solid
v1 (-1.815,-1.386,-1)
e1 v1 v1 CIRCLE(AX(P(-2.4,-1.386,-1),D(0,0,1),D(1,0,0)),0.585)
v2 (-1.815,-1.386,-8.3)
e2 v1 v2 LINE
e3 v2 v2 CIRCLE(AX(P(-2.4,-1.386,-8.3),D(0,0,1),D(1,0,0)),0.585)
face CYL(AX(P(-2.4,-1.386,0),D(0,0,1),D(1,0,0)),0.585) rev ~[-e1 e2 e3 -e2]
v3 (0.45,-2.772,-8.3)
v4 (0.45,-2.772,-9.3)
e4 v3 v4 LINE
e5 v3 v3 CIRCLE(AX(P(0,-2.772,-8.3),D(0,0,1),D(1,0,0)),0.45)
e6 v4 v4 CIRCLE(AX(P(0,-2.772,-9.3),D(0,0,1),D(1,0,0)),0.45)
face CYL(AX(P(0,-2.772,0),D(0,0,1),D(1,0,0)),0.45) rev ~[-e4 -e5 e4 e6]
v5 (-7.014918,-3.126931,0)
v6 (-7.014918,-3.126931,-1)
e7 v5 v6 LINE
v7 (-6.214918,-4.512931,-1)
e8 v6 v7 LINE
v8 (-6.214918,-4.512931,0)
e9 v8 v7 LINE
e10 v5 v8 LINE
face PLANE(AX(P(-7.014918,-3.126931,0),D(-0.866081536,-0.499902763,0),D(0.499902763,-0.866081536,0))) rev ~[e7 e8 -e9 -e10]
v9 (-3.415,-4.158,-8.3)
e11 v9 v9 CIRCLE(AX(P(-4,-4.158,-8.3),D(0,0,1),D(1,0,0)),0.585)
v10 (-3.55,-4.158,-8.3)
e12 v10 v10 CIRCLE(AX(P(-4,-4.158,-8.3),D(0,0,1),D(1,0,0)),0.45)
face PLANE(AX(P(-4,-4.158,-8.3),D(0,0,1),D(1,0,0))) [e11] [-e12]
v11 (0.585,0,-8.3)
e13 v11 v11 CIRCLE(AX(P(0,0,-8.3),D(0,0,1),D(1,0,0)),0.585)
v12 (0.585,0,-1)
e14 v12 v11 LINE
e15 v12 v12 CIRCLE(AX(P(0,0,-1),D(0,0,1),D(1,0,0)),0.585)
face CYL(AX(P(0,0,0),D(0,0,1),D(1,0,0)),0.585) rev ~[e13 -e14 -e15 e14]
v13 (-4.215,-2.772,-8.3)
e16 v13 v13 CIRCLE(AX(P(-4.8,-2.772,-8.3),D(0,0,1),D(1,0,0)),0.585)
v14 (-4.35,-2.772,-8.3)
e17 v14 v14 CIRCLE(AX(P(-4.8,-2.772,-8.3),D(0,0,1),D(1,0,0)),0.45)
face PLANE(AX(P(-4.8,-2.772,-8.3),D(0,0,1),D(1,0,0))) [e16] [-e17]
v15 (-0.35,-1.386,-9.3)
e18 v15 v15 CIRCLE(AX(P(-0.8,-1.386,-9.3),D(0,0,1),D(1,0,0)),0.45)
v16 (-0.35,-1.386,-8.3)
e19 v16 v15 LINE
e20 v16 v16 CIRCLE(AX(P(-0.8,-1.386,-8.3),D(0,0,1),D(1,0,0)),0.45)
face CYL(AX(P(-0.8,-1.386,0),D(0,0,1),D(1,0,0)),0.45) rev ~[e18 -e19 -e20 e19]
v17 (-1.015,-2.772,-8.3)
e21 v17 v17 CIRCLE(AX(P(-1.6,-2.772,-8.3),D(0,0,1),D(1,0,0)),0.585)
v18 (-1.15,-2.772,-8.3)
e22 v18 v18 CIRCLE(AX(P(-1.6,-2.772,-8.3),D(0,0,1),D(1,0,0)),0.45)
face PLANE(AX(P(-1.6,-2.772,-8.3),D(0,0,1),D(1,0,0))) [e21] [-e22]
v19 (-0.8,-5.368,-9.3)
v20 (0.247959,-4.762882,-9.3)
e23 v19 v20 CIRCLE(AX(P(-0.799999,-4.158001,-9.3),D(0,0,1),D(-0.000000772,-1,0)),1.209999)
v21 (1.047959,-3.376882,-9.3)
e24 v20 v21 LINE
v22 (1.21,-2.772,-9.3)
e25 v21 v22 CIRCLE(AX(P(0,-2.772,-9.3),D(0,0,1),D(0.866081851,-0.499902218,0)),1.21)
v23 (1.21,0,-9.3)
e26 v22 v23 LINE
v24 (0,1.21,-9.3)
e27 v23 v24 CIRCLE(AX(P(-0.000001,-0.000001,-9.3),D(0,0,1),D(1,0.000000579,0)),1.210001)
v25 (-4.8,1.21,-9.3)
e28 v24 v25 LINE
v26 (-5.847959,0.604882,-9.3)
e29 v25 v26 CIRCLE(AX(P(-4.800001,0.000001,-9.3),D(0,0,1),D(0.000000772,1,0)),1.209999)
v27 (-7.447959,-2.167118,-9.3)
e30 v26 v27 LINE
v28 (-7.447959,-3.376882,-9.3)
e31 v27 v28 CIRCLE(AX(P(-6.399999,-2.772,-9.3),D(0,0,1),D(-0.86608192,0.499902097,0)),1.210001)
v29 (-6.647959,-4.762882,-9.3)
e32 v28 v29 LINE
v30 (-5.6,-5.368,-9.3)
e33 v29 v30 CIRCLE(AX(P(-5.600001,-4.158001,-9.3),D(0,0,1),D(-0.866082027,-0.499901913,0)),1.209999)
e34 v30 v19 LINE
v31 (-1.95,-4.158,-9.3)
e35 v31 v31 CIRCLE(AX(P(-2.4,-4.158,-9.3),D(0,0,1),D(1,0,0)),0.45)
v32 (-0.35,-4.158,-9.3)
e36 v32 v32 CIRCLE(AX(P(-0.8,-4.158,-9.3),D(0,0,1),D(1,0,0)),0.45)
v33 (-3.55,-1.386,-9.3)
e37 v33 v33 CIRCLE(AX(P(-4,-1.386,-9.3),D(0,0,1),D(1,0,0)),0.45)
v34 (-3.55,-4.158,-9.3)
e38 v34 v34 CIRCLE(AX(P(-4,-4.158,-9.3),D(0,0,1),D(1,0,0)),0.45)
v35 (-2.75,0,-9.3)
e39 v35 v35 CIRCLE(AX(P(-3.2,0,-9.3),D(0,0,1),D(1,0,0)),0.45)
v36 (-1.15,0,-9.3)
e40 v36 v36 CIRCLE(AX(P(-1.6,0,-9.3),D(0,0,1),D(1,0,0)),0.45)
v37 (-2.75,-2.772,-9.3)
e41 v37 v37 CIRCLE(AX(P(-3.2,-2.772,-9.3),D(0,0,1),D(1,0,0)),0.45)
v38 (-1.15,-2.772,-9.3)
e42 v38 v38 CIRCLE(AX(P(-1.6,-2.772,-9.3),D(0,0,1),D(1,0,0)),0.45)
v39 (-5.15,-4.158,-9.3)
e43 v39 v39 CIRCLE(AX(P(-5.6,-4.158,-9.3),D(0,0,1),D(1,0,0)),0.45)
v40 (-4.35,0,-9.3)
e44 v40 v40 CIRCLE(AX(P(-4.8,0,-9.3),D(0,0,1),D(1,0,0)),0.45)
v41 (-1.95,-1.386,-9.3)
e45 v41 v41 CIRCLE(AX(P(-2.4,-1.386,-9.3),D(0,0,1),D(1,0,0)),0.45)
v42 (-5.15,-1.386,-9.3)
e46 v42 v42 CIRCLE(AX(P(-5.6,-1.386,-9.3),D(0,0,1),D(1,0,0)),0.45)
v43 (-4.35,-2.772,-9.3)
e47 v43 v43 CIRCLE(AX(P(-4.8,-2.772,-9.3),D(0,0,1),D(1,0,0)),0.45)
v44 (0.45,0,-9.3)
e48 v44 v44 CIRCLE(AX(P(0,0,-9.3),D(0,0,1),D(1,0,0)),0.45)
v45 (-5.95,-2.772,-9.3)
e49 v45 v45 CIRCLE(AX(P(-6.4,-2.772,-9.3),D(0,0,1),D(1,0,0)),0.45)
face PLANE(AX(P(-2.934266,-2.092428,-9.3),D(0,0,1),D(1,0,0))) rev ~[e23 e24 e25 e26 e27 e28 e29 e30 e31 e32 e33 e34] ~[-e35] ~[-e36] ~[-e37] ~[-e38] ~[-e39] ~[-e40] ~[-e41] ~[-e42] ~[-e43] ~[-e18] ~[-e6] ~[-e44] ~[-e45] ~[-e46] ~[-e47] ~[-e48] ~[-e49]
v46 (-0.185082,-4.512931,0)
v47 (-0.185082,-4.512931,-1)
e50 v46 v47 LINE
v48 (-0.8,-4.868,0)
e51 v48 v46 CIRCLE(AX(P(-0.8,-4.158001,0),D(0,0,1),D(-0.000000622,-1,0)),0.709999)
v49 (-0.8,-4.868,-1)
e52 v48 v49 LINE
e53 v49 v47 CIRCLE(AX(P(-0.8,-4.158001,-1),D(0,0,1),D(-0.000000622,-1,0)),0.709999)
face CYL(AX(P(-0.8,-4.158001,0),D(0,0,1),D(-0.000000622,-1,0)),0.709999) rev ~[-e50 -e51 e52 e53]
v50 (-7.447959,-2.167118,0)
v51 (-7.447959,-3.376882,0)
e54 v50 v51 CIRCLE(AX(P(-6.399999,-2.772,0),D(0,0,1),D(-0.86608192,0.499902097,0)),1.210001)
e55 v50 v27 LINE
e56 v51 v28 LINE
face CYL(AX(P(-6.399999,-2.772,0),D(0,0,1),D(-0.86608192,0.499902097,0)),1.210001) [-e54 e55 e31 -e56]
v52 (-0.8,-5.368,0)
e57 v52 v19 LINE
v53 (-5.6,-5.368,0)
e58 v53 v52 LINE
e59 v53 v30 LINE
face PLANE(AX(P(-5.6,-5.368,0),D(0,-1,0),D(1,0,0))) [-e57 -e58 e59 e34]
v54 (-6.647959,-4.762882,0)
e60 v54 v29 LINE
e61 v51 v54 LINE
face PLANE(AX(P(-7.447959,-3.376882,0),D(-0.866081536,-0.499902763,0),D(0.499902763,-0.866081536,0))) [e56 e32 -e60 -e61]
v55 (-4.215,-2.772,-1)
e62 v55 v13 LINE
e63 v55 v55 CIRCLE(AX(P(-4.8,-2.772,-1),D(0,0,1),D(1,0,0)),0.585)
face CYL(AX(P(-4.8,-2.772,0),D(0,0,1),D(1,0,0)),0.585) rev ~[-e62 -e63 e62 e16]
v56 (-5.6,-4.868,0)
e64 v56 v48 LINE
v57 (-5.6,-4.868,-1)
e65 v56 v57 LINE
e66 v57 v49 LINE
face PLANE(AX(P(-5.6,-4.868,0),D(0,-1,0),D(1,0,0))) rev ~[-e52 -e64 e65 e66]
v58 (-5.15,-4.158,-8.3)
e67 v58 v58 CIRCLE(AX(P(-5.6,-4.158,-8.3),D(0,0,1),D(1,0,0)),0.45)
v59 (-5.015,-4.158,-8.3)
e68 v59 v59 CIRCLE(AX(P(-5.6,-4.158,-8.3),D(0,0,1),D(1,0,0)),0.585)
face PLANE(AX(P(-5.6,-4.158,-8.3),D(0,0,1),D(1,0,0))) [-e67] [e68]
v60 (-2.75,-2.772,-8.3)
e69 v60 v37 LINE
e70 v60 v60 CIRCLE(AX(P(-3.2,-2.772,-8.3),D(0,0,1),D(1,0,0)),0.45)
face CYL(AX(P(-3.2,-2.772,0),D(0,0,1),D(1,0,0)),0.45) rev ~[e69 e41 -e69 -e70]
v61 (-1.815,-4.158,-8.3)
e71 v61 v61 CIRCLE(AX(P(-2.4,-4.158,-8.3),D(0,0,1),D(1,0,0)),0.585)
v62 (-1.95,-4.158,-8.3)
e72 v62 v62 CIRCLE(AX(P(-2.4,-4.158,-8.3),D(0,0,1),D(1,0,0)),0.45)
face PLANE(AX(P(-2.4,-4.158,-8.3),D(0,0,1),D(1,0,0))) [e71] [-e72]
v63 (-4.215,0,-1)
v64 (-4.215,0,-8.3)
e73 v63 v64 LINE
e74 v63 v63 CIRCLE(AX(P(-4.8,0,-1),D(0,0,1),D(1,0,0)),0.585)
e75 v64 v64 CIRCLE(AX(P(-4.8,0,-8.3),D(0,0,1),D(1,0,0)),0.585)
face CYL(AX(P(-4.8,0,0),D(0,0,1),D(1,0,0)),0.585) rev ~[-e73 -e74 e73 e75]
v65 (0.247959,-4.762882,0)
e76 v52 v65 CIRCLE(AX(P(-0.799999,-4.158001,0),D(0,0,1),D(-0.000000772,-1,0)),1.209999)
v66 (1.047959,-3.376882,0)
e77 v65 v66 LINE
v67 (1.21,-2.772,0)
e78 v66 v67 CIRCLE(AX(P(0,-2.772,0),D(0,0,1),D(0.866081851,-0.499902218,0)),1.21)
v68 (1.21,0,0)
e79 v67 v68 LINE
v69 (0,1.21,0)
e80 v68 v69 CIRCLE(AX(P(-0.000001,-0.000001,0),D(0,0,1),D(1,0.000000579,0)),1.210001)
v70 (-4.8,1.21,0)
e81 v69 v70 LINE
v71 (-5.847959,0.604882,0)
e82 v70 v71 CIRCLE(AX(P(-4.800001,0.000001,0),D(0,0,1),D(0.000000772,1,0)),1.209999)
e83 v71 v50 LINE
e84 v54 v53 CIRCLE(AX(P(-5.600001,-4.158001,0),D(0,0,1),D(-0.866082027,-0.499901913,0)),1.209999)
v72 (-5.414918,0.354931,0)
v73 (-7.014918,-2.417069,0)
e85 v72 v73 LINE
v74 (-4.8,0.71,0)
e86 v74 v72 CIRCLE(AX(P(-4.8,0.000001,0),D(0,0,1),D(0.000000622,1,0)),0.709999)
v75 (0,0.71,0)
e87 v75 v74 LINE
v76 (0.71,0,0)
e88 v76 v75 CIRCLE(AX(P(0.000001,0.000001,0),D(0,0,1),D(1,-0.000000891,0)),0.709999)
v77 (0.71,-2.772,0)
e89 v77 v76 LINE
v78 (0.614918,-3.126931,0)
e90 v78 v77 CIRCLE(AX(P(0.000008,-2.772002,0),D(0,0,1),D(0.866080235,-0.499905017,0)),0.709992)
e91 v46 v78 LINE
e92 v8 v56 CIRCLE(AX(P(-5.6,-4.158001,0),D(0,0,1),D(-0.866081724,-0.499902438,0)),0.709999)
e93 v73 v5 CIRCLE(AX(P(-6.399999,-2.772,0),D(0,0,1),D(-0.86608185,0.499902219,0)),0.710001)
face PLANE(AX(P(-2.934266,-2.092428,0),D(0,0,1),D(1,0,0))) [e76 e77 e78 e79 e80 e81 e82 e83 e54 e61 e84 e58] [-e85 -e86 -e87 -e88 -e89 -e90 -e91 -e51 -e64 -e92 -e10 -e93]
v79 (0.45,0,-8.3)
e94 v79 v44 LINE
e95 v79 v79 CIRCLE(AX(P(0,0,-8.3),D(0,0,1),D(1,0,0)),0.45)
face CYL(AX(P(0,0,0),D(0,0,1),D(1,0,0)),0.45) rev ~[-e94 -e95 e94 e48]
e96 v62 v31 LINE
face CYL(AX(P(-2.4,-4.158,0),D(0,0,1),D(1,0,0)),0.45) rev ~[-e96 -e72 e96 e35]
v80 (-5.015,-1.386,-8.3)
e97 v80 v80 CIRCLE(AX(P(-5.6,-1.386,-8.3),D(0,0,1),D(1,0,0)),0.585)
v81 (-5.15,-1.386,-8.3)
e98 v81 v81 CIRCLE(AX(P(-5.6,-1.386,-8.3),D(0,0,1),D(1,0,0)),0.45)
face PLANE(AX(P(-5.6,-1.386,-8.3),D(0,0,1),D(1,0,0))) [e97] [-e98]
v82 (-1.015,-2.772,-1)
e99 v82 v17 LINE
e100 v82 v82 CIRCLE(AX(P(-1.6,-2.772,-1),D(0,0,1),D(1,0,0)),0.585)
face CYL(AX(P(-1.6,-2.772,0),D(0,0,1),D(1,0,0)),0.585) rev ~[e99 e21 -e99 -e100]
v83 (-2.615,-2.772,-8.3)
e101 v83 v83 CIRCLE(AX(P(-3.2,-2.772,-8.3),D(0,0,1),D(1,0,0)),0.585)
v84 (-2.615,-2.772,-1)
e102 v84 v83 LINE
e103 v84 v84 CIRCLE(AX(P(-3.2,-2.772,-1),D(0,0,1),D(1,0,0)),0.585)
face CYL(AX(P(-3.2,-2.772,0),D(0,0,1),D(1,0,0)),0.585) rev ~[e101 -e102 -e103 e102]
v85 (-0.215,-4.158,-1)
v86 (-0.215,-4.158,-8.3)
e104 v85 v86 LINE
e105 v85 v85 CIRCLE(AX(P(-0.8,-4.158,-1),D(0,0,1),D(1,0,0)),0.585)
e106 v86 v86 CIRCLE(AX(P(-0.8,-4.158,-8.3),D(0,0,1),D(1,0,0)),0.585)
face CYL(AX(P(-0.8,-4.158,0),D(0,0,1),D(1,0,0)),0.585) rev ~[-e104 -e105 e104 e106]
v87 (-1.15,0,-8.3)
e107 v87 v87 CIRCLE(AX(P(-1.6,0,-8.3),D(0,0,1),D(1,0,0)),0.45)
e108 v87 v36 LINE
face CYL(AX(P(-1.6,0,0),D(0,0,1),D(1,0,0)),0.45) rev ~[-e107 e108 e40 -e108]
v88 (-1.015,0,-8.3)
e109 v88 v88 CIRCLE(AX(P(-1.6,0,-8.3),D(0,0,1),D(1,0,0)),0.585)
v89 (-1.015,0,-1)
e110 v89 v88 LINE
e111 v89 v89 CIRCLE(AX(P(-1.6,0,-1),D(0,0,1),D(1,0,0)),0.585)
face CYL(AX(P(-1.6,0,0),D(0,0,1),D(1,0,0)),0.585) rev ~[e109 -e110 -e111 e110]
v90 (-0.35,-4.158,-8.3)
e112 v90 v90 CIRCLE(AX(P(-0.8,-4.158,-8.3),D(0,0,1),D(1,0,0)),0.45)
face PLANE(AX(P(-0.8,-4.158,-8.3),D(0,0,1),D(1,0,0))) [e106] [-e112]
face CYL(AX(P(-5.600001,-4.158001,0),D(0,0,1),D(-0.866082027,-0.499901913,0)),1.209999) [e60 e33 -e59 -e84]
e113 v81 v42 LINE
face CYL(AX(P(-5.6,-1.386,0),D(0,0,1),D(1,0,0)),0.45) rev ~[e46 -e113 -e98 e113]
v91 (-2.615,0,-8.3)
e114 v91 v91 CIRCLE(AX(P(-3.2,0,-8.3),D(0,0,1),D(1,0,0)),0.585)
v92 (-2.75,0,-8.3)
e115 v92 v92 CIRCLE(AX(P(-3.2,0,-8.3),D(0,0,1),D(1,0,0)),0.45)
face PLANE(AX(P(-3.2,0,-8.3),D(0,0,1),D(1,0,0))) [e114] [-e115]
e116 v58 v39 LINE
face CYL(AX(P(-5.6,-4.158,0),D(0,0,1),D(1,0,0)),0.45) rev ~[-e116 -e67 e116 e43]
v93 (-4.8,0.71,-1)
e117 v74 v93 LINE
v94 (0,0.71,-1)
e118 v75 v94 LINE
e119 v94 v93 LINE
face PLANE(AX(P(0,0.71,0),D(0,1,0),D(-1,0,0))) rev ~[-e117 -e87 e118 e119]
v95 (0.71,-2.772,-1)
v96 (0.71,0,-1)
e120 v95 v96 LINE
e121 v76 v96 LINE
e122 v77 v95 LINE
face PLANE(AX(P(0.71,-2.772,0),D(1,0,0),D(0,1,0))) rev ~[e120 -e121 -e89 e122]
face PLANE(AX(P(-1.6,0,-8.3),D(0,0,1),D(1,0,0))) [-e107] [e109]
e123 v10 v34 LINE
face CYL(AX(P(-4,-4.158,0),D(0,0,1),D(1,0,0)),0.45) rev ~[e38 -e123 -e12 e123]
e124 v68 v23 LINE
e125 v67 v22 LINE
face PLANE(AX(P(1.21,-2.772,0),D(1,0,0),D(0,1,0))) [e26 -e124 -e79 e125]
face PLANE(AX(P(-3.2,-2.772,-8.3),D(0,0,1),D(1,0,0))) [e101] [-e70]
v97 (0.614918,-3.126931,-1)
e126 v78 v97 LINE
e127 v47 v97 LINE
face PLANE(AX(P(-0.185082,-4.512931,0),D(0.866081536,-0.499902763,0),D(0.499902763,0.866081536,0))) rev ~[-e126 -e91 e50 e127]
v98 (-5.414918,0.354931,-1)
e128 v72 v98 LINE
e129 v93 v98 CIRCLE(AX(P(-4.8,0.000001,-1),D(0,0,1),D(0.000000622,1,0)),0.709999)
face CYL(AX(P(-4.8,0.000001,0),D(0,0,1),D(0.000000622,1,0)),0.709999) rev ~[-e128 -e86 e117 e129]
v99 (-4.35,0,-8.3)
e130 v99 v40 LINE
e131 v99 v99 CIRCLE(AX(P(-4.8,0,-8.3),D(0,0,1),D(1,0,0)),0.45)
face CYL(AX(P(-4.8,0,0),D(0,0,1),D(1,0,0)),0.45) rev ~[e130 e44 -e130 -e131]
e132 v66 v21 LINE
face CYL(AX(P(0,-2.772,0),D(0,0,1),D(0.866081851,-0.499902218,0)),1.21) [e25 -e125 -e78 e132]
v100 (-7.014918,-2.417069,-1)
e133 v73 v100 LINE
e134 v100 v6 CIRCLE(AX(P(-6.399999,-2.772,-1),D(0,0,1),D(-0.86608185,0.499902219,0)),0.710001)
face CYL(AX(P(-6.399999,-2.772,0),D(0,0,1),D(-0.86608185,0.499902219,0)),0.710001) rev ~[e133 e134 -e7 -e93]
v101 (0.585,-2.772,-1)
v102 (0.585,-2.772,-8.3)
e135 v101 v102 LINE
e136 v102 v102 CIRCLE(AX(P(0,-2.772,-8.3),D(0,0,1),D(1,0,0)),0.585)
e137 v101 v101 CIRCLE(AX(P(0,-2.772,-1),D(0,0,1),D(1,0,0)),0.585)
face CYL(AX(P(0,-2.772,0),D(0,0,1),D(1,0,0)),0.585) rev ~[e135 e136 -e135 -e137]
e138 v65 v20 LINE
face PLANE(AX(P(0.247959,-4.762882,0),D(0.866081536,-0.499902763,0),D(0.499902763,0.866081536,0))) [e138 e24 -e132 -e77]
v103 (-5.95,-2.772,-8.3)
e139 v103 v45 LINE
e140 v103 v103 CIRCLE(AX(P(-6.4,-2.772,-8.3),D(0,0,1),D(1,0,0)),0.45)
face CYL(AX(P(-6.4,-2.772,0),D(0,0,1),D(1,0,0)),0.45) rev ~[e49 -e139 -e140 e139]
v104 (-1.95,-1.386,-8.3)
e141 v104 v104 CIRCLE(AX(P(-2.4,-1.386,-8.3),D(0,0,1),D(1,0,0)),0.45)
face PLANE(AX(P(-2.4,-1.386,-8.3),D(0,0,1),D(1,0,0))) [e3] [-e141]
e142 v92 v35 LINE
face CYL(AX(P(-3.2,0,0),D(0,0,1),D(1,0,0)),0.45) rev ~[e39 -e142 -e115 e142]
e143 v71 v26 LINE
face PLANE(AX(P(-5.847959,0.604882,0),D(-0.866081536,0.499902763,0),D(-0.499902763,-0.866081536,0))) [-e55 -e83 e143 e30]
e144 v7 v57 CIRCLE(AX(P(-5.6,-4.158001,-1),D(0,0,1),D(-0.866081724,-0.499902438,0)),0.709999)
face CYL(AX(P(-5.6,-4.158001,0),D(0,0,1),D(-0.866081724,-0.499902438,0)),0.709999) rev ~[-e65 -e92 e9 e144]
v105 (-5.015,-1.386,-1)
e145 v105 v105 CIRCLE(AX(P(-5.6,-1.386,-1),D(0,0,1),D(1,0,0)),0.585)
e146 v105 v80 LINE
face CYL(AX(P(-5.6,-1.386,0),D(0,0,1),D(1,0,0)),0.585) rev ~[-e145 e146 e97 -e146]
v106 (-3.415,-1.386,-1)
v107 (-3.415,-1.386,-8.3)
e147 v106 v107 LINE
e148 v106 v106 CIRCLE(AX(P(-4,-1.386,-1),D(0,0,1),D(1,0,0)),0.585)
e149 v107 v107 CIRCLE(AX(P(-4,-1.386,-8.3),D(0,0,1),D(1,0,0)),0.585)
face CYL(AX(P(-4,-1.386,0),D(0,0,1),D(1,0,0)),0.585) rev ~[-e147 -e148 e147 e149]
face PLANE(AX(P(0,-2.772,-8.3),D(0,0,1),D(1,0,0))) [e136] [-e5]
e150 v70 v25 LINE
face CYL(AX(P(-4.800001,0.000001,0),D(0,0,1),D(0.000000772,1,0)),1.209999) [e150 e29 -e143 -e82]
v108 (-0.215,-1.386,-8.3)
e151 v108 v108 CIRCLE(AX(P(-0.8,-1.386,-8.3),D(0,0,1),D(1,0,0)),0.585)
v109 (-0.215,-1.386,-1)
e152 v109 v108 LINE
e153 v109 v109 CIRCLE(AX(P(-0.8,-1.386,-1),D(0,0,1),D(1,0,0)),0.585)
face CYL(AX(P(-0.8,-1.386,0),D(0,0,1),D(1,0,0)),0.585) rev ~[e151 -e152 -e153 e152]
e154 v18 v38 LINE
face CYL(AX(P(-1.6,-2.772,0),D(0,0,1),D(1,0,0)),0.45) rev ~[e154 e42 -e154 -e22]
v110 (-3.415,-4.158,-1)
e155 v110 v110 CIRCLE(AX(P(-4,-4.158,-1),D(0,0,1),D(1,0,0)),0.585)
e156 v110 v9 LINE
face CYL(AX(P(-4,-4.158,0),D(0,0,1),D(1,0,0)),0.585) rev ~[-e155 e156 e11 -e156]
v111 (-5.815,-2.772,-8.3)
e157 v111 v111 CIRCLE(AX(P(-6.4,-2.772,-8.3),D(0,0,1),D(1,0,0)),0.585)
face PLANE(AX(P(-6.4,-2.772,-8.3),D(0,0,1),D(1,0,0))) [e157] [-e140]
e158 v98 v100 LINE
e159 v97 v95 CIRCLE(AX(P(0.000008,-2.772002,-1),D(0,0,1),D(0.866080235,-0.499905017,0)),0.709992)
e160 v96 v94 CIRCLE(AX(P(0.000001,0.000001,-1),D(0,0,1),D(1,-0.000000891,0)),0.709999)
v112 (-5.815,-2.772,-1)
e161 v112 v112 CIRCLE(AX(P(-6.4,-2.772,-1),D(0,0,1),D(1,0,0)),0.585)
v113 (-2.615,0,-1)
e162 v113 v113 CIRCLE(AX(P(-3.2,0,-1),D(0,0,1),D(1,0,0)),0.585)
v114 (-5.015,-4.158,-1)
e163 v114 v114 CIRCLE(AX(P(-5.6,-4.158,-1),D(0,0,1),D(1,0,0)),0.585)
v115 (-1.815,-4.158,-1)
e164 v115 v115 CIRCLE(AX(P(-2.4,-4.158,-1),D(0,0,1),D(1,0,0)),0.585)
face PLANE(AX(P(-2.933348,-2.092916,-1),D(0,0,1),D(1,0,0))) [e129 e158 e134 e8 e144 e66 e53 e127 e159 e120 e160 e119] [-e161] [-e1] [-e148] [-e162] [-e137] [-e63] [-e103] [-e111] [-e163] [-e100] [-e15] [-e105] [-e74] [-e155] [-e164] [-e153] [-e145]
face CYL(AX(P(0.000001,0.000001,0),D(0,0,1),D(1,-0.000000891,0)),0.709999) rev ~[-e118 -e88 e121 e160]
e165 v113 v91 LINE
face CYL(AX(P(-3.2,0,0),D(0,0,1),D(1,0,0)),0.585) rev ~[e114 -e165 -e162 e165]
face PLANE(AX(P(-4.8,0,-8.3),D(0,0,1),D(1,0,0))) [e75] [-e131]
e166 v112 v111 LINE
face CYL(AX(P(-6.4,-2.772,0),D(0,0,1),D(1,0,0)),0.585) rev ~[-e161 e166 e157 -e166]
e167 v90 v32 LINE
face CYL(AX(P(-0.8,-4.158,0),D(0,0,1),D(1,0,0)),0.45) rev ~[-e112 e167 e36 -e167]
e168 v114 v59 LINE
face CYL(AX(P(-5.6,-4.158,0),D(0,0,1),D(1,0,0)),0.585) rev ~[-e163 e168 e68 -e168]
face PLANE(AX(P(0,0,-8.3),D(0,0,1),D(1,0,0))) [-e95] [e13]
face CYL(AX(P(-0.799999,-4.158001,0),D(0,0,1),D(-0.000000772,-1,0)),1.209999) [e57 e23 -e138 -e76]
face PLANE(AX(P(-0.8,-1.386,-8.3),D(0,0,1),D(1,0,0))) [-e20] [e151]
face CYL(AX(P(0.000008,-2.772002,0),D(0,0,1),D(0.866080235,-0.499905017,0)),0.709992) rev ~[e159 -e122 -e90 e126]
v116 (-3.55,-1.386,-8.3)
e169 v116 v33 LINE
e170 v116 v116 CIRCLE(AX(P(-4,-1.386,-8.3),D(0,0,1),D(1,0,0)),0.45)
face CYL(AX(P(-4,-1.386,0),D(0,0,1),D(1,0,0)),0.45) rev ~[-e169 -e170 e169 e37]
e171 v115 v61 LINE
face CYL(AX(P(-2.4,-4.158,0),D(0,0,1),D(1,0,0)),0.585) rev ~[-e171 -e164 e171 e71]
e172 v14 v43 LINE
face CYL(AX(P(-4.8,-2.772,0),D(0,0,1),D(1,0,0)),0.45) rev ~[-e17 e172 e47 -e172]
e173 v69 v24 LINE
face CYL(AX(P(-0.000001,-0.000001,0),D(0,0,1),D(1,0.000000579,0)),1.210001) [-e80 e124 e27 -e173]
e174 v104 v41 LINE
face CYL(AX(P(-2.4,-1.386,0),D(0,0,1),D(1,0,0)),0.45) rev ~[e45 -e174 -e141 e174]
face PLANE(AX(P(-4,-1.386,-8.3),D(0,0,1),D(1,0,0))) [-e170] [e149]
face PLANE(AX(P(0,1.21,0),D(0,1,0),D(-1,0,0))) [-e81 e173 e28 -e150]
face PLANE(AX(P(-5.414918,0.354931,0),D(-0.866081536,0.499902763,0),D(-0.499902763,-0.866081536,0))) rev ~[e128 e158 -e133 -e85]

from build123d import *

# Parameters (mm, degrees)
F0_R     = 0.585
F1_DEPTH = 9.3
F2_DEPTH = 1
F3_DEPTH = 8.3
F4_R     = 0.45
F5_DEPTH = 9.301


with BuildPart() as f1:
    # F0 (on Top) → F1 (new body)
    with BuildSketch(Plane.XY):
        with BuildLine():
            Line((0, 1.21), (-4.8, 1.21))
            ThreePointArc((-4.8, 1.21), (-5.405059, 1.047857), (-5.847959, 0.604882))
            Line((-5.847959, 0.604882), (-7.447959, -2.167118))
            ThreePointArc((-7.447959, -2.167118), (-7.61, -2.772), (-7.447959, -3.376882))
            Line((-7.447959, -3.376882), (-6.647959, -4.762882))
            ThreePointArc((-6.647959, -4.762882), (-6.205059, -5.205857), (-5.6, -5.368))
            Line((-5.6, -5.368), (-0.8, -5.368))
            ThreePointArc((-0.8, -5.368), (-0.194941, -5.205857), (0.247959, -4.762882))
            Line((0.247959, -4.762882), (1.047959, -3.376882))
            ThreePointArc((1.047959, -3.376882), (1.168788, -3.085105), (1.21, -2.772))
            Line((1.21, -2.772), (1.21, 0))
            ThreePointArc((1.21, 0), (0.855599, 0.855599), (0, 1.21))
        make_face()
        with BuildLine():
            ThreePointArc((-5.414918, 0.354931), (-5.155035, 0.614858), (-4.8, 0.71))
            Line((-4.8, 0.71), (0, 0.71))
            ThreePointArc((0, 0.71), (0.502046, 0.502046), (0.71, 0))
            Line((0.71, 0), (0.71, -2.772))
            ThreePointArc((0.71, -2.772), (0.685818, -2.955723), (0.614918, -3.126931))
            Line((0.614918, -3.126931), (-0.185082, -4.512931))
            ThreePointArc((-0.185082, -4.512931), (-0.444965, -4.772858), (-0.8, -4.868))
            Line((-0.8, -4.868), (-5.6, -4.868))
            ThreePointArc((-5.6, -4.868), (-5.955035, -4.772858), (-6.214918, -4.512931))
            Line((-6.214918, -4.512931), (-7.014918, -3.126931))
            ThreePointArc((-7.014918, -3.126931), (-7.11, -2.772), (-7.014918, -2.417069))
            Line((-7.014918, -2.417069), (-5.414918, 0.354931))
        make_face(mode=Mode.SUBTRACT)
        with BuildLine():
            Line((0, 0.71), (-4.8, 0.71))
            ThreePointArc((-4.8, 0.71), (-5.155035, 0.614858), (-5.414918, 0.354931))
            Line((-5.414918, 0.354931), (-7.014918, -2.417069))
            ThreePointArc((-7.014918, -2.417069), (-7.11, -2.772), (-7.014918, -3.126931))
            Line((-7.014918, -3.126931), (-6.214918, -4.512931))
            ThreePointArc((-6.214918, -4.512931), (-5.955035, -4.772858), (-5.6, -4.868))
            Line((-5.6, -4.868), (-0.8, -4.868))
            ThreePointArc((-0.8, -4.868), (-0.444965, -4.772858), (-0.185082, -4.512931))
            Line((-0.185082, -4.512931), (0.614918, -3.126931))
            ThreePointArc((0.614918, -3.126931), (0.685818, -2.955723), (0.71, -2.772))
            Line((0.71, -2.772), (0.71, 0))
            ThreePointArc((0.71, 0), (0.502046, 0.502046), (0, 0.71))
        make_face()
        with Locations((-5.6, -4.158)):
            Circle(F0_R, mode=Mode.SUBTRACT)
        with Locations((-4, -4.158)):
            Circle(F0_R, mode=Mode.SUBTRACT)
        with Locations((-6.4, -2.772)):
            Circle(F0_R, mode=Mode.SUBTRACT)
        with Locations((-4.8, -2.772)):
            Circle(F0_R, mode=Mode.SUBTRACT)
        with Locations((-2.4, -4.158)):
            Circle(F0_R, mode=Mode.SUBTRACT)
        with Locations((-0.8, -4.158)):
            Circle(F0_R, mode=Mode.SUBTRACT)
        with Locations((-3.2, -2.772)):
            Circle(F0_R, mode=Mode.SUBTRACT)
        with Locations((-1.6, -2.772)):
            Circle(F0_R, mode=Mode.SUBTRACT)
        with Locations((0, -2.772)):
            Circle(F0_R, mode=Mode.SUBTRACT)
        with Locations((-5.6, -1.386)):
            Circle(F0_R, mode=Mode.SUBTRACT)
        with Locations((-4, -1.386)):
            Circle(F0_R, mode=Mode.SUBTRACT)
        with Locations((-4.8, 0)):
            Circle(F0_R, mode=Mode.SUBTRACT)
        with Locations((-2.4, -1.386)):
            Circle(F0_R, mode=Mode.SUBTRACT)
        with Locations((-0.8, -1.386)):
            Circle(F0_R, mode=Mode.SUBTRACT)
        with Locations((-3.2, 0)):
            Circle(F0_R, mode=Mode.SUBTRACT)
        with Locations((-1.6, 0)):
            Circle(F0_R, mode=Mode.SUBTRACT)
        Circle(F0_R, mode=Mode.SUBTRACT)
        with Locations((-0.8, -4.158)):
            Circle(F0_R)
        with Locations((0, -2.772)):
            Circle(F0_R)
        with Locations((-0.8, -1.386)):
            Circle(F0_R)
        Circle(F0_R)
        with Locations((-1.6, 0)):
            Circle(F0_R)
        with Locations((-3.2, 0)):
            Circle(F0_R)
        with Locations((-4.8, 0)):
            Circle(F0_R)
        with Locations((-5.6, -1.386)):
            Circle(F0_R)
        with Locations((-4, -1.386)):
            Circle(F0_R)
        with Locations((-2.4, -1.386)):
            Circle(F0_R)
        with Locations((-1.6, -2.772)):
            Circle(F0_R)
        with Locations((-3.2, -2.772)):
            Circle(F0_R)
        with Locations((-6.4, -2.772)):
            Circle(F0_R)
        with Locations((-5.6, -4.158)):
            Circle(F0_R)
        with Locations((-4, -4.158)):
            Circle(F0_R)
        with Locations((-2.4, -4.158)):
            Circle(F0_R)
        with Locations((-4.8, -2.772)):
            Circle(F0_R)
    extrude(amount=-F1_DEPTH)

    # F0 (on Top) → F2 (cut)
    with BuildSketch(Plane.XY):
        with BuildLine():
            Line((0, 0.71), (-4.8, 0.71))
            ThreePointArc((-4.8, 0.71), (-5.155035, 0.614858), (-5.414918, 0.354931))
            Line((-5.414918, 0.354931), (-7.014918, -2.417069))
            ThreePointArc((-7.014918, -2.417069), (-7.11, -2.772), (-7.014918, -3.126931))
            Line((-7.014918, -3.126931), (-6.214918, -4.512931))
            ThreePointArc((-6.214918, -4.512931), (-5.955035, -4.772858), (-5.6, -4.868))
            Line((-5.6, -4.868), (-0.8, -4.868))
            ThreePointArc((-0.8, -4.868), (-0.444965, -4.772858), (-0.185082, -4.512931))
            Line((-0.185082, -4.512931), (0.614918, -3.126931))
            ThreePointArc((0.614918, -3.126931), (0.685818, -2.955723), (0.71, -2.772))
            Line((0.71, -2.772), (0.71, 0))
            ThreePointArc((0.71, 0), (0.502046, 0.502046), (0, 0.71))
        make_face()
        with Locations((-5.6, -4.158)):
            Circle(F0_R, mode=Mode.SUBTRACT)
        with Locations((-4, -4.158)):
            Circle(F0_R, mode=Mode.SUBTRACT)
        with Locations((-6.4, -2.772)):
            Circle(F0_R, mode=Mode.SUBTRACT)
        with Locations((-4.8, -2.772)):
            Circle(F0_R, mode=Mode.SUBTRACT)
        with Locations((-2.4, -4.158)):
            Circle(F0_R, mode=Mode.SUBTRACT)
        with Locations((-0.8, -4.158)):
            Circle(F0_R, mode=Mode.SUBTRACT)
        with Locations((-3.2, -2.772)):
            Circle(F0_R, mode=Mode.SUBTRACT)
        with Locations((-1.6, -2.772)):
            Circle(F0_R, mode=Mode.SUBTRACT)
        with Locations((0, -2.772)):
            Circle(F0_R, mode=Mode.SUBTRACT)
        with Locations((-5.6, -1.386)):
            Circle(F0_R, mode=Mode.SUBTRACT)
        with Locations((-4, -1.386)):
            Circle(F0_R, mode=Mode.SUBTRACT)
        with Locations((-4.8, 0)):
            Circle(F0_R, mode=Mode.SUBTRACT)
        with Locations((-2.4, -1.386)):
            Circle(F0_R, mode=Mode.SUBTRACT)
        with Locations((-0.8, -1.386)):
            Circle(F0_R, mode=Mode.SUBTRACT)
        with Locations((-3.2, 0)):
            Circle(F0_R, mode=Mode.SUBTRACT)
        with Locations((-1.6, 0)):
            Circle(F0_R, mode=Mode.SUBTRACT)
        Circle(F0_R, mode=Mode.SUBTRACT)
        with Locations((-4.8, 0)):
            Circle(F0_R)
        with Locations((-5.6, -1.386)):
            Circle(F0_R)
        with Locations((-6.4, -2.772)):
            Circle(F0_R)
        with Locations((-5.6, -4.158)):
            Circle(F0_R)
        with Locations((-4.8, -2.772)):
            Circle(F0_R)
        with Locations((-4, -4.158)):
            Circle(F0_R)
        with Locations((-4, -1.386)):
            Circle(F0_R)
        with Locations((-3.2, 0)):
            Circle(F0_R)
        with Locations((-1.6, 0)):
            Circle(F0_R)
        with Locations((-2.4, -1.386)):
            Circle(F0_R)
        with Locations((-3.2, -2.772)):
            Circle(F0_R)
        with Locations((-2.4, -4.158)):
            Circle(F0_R)
        Circle(F0_R)
        with Locations((-0.8, -1.386)):
            Circle(F0_R)
        with Locations((-1.6, -2.772)):
            Circle(F0_R)
        with Locations((-0.8, -4.158)):
            Circle(F0_R)
        with Locations((0, -2.772)):
            Circle(F0_R)
    extrude(amount=-F2_DEPTH, mode=Mode.SUBTRACT)

    # F0 (on Top) → F3 (cut)
    with BuildSketch(Plane.XY):
        with Locations((-6.4, -2.772)):
            Circle(F0_R)
        with Locations((-5.6, -1.386)):
            Circle(F0_R)
        with Locations((-4.8, 0)):
            Circle(F0_R)
        with Locations((-5.6, -4.158)):
            Circle(F0_R)
        with Locations((-4.8, -2.772)):
            Circle(F0_R)
        with Locations((-4, -1.386)):
            Circle(F0_R)
        with Locations((-3.2, 0)):
            Circle(F0_R)
        with Locations((-1.6, 0)):
            Circle(F0_R)
        with Locations((-2.4, -1.386)):
            Circle(F0_R)
        with Locations((-3.2, -2.772)):
            Circle(F0_R)
        with Locations((-4, -4.158)):
            Circle(F0_R)
        with Locations((-2.4, -4.158)):
            Circle(F0_R)
        with Locations((-1.6, -2.772)):
            Circle(F0_R)
        with Locations((-0.8, -1.386)):
            Circle(F0_R)
        Circle(F0_R)
        with Locations((0, -2.772)):
            Circle(F0_R)
        with Locations((-0.8, -4.158)):
            Circle(F0_R)
    extrude(amount=-F3_DEPTH, mode=Mode.SUBTRACT)

    # F4 (on Top) → F5 (cut, through all)
    with BuildSketch(Plane.XY):
        with Locations((-4.8, 0)):
            Circle(F4_R)
        with Locations((-3.2, 0)):
            Circle(F4_R)
        with Locations((-1.6, 0)):
            Circle(F4_R)
        Circle(F4_R)
        with Locations((-0.8, -1.386)):
            Circle(F4_R)
        with Locations((-2.4, -1.386)):
            Circle(F4_R)
        with Locations((-4, -1.386)):
            Circle(F4_R)
        with Locations((-5.6, -1.386)):
            Circle(F4_R)
        with Locations((-6.4, -2.772)):
            Circle(F4_R)
        with Locations((-4.8, -2.772)):
            Circle(F4_R)
        with Locations((-3.2, -2.772)):
            Circle(F4_R)
        with Locations((-1.6, -2.772)):
            Circle(F4_R)
        with Locations((0, -2.772)):
            Circle(F4_R)
        with Locations((-0.8, -4.158)):
            Circle(F4_R)
        with Locations((-2.4, -4.158)):
            Circle(F4_R)
        with Locations((-4, -4.158)):
            Circle(F4_R)
        with Locations((-5.6, -4.158)):
            Circle(F4_R)
    extrude(amount=-F5_DEPTH, mode=Mode.SUBTRACT)


solid = f1.part
